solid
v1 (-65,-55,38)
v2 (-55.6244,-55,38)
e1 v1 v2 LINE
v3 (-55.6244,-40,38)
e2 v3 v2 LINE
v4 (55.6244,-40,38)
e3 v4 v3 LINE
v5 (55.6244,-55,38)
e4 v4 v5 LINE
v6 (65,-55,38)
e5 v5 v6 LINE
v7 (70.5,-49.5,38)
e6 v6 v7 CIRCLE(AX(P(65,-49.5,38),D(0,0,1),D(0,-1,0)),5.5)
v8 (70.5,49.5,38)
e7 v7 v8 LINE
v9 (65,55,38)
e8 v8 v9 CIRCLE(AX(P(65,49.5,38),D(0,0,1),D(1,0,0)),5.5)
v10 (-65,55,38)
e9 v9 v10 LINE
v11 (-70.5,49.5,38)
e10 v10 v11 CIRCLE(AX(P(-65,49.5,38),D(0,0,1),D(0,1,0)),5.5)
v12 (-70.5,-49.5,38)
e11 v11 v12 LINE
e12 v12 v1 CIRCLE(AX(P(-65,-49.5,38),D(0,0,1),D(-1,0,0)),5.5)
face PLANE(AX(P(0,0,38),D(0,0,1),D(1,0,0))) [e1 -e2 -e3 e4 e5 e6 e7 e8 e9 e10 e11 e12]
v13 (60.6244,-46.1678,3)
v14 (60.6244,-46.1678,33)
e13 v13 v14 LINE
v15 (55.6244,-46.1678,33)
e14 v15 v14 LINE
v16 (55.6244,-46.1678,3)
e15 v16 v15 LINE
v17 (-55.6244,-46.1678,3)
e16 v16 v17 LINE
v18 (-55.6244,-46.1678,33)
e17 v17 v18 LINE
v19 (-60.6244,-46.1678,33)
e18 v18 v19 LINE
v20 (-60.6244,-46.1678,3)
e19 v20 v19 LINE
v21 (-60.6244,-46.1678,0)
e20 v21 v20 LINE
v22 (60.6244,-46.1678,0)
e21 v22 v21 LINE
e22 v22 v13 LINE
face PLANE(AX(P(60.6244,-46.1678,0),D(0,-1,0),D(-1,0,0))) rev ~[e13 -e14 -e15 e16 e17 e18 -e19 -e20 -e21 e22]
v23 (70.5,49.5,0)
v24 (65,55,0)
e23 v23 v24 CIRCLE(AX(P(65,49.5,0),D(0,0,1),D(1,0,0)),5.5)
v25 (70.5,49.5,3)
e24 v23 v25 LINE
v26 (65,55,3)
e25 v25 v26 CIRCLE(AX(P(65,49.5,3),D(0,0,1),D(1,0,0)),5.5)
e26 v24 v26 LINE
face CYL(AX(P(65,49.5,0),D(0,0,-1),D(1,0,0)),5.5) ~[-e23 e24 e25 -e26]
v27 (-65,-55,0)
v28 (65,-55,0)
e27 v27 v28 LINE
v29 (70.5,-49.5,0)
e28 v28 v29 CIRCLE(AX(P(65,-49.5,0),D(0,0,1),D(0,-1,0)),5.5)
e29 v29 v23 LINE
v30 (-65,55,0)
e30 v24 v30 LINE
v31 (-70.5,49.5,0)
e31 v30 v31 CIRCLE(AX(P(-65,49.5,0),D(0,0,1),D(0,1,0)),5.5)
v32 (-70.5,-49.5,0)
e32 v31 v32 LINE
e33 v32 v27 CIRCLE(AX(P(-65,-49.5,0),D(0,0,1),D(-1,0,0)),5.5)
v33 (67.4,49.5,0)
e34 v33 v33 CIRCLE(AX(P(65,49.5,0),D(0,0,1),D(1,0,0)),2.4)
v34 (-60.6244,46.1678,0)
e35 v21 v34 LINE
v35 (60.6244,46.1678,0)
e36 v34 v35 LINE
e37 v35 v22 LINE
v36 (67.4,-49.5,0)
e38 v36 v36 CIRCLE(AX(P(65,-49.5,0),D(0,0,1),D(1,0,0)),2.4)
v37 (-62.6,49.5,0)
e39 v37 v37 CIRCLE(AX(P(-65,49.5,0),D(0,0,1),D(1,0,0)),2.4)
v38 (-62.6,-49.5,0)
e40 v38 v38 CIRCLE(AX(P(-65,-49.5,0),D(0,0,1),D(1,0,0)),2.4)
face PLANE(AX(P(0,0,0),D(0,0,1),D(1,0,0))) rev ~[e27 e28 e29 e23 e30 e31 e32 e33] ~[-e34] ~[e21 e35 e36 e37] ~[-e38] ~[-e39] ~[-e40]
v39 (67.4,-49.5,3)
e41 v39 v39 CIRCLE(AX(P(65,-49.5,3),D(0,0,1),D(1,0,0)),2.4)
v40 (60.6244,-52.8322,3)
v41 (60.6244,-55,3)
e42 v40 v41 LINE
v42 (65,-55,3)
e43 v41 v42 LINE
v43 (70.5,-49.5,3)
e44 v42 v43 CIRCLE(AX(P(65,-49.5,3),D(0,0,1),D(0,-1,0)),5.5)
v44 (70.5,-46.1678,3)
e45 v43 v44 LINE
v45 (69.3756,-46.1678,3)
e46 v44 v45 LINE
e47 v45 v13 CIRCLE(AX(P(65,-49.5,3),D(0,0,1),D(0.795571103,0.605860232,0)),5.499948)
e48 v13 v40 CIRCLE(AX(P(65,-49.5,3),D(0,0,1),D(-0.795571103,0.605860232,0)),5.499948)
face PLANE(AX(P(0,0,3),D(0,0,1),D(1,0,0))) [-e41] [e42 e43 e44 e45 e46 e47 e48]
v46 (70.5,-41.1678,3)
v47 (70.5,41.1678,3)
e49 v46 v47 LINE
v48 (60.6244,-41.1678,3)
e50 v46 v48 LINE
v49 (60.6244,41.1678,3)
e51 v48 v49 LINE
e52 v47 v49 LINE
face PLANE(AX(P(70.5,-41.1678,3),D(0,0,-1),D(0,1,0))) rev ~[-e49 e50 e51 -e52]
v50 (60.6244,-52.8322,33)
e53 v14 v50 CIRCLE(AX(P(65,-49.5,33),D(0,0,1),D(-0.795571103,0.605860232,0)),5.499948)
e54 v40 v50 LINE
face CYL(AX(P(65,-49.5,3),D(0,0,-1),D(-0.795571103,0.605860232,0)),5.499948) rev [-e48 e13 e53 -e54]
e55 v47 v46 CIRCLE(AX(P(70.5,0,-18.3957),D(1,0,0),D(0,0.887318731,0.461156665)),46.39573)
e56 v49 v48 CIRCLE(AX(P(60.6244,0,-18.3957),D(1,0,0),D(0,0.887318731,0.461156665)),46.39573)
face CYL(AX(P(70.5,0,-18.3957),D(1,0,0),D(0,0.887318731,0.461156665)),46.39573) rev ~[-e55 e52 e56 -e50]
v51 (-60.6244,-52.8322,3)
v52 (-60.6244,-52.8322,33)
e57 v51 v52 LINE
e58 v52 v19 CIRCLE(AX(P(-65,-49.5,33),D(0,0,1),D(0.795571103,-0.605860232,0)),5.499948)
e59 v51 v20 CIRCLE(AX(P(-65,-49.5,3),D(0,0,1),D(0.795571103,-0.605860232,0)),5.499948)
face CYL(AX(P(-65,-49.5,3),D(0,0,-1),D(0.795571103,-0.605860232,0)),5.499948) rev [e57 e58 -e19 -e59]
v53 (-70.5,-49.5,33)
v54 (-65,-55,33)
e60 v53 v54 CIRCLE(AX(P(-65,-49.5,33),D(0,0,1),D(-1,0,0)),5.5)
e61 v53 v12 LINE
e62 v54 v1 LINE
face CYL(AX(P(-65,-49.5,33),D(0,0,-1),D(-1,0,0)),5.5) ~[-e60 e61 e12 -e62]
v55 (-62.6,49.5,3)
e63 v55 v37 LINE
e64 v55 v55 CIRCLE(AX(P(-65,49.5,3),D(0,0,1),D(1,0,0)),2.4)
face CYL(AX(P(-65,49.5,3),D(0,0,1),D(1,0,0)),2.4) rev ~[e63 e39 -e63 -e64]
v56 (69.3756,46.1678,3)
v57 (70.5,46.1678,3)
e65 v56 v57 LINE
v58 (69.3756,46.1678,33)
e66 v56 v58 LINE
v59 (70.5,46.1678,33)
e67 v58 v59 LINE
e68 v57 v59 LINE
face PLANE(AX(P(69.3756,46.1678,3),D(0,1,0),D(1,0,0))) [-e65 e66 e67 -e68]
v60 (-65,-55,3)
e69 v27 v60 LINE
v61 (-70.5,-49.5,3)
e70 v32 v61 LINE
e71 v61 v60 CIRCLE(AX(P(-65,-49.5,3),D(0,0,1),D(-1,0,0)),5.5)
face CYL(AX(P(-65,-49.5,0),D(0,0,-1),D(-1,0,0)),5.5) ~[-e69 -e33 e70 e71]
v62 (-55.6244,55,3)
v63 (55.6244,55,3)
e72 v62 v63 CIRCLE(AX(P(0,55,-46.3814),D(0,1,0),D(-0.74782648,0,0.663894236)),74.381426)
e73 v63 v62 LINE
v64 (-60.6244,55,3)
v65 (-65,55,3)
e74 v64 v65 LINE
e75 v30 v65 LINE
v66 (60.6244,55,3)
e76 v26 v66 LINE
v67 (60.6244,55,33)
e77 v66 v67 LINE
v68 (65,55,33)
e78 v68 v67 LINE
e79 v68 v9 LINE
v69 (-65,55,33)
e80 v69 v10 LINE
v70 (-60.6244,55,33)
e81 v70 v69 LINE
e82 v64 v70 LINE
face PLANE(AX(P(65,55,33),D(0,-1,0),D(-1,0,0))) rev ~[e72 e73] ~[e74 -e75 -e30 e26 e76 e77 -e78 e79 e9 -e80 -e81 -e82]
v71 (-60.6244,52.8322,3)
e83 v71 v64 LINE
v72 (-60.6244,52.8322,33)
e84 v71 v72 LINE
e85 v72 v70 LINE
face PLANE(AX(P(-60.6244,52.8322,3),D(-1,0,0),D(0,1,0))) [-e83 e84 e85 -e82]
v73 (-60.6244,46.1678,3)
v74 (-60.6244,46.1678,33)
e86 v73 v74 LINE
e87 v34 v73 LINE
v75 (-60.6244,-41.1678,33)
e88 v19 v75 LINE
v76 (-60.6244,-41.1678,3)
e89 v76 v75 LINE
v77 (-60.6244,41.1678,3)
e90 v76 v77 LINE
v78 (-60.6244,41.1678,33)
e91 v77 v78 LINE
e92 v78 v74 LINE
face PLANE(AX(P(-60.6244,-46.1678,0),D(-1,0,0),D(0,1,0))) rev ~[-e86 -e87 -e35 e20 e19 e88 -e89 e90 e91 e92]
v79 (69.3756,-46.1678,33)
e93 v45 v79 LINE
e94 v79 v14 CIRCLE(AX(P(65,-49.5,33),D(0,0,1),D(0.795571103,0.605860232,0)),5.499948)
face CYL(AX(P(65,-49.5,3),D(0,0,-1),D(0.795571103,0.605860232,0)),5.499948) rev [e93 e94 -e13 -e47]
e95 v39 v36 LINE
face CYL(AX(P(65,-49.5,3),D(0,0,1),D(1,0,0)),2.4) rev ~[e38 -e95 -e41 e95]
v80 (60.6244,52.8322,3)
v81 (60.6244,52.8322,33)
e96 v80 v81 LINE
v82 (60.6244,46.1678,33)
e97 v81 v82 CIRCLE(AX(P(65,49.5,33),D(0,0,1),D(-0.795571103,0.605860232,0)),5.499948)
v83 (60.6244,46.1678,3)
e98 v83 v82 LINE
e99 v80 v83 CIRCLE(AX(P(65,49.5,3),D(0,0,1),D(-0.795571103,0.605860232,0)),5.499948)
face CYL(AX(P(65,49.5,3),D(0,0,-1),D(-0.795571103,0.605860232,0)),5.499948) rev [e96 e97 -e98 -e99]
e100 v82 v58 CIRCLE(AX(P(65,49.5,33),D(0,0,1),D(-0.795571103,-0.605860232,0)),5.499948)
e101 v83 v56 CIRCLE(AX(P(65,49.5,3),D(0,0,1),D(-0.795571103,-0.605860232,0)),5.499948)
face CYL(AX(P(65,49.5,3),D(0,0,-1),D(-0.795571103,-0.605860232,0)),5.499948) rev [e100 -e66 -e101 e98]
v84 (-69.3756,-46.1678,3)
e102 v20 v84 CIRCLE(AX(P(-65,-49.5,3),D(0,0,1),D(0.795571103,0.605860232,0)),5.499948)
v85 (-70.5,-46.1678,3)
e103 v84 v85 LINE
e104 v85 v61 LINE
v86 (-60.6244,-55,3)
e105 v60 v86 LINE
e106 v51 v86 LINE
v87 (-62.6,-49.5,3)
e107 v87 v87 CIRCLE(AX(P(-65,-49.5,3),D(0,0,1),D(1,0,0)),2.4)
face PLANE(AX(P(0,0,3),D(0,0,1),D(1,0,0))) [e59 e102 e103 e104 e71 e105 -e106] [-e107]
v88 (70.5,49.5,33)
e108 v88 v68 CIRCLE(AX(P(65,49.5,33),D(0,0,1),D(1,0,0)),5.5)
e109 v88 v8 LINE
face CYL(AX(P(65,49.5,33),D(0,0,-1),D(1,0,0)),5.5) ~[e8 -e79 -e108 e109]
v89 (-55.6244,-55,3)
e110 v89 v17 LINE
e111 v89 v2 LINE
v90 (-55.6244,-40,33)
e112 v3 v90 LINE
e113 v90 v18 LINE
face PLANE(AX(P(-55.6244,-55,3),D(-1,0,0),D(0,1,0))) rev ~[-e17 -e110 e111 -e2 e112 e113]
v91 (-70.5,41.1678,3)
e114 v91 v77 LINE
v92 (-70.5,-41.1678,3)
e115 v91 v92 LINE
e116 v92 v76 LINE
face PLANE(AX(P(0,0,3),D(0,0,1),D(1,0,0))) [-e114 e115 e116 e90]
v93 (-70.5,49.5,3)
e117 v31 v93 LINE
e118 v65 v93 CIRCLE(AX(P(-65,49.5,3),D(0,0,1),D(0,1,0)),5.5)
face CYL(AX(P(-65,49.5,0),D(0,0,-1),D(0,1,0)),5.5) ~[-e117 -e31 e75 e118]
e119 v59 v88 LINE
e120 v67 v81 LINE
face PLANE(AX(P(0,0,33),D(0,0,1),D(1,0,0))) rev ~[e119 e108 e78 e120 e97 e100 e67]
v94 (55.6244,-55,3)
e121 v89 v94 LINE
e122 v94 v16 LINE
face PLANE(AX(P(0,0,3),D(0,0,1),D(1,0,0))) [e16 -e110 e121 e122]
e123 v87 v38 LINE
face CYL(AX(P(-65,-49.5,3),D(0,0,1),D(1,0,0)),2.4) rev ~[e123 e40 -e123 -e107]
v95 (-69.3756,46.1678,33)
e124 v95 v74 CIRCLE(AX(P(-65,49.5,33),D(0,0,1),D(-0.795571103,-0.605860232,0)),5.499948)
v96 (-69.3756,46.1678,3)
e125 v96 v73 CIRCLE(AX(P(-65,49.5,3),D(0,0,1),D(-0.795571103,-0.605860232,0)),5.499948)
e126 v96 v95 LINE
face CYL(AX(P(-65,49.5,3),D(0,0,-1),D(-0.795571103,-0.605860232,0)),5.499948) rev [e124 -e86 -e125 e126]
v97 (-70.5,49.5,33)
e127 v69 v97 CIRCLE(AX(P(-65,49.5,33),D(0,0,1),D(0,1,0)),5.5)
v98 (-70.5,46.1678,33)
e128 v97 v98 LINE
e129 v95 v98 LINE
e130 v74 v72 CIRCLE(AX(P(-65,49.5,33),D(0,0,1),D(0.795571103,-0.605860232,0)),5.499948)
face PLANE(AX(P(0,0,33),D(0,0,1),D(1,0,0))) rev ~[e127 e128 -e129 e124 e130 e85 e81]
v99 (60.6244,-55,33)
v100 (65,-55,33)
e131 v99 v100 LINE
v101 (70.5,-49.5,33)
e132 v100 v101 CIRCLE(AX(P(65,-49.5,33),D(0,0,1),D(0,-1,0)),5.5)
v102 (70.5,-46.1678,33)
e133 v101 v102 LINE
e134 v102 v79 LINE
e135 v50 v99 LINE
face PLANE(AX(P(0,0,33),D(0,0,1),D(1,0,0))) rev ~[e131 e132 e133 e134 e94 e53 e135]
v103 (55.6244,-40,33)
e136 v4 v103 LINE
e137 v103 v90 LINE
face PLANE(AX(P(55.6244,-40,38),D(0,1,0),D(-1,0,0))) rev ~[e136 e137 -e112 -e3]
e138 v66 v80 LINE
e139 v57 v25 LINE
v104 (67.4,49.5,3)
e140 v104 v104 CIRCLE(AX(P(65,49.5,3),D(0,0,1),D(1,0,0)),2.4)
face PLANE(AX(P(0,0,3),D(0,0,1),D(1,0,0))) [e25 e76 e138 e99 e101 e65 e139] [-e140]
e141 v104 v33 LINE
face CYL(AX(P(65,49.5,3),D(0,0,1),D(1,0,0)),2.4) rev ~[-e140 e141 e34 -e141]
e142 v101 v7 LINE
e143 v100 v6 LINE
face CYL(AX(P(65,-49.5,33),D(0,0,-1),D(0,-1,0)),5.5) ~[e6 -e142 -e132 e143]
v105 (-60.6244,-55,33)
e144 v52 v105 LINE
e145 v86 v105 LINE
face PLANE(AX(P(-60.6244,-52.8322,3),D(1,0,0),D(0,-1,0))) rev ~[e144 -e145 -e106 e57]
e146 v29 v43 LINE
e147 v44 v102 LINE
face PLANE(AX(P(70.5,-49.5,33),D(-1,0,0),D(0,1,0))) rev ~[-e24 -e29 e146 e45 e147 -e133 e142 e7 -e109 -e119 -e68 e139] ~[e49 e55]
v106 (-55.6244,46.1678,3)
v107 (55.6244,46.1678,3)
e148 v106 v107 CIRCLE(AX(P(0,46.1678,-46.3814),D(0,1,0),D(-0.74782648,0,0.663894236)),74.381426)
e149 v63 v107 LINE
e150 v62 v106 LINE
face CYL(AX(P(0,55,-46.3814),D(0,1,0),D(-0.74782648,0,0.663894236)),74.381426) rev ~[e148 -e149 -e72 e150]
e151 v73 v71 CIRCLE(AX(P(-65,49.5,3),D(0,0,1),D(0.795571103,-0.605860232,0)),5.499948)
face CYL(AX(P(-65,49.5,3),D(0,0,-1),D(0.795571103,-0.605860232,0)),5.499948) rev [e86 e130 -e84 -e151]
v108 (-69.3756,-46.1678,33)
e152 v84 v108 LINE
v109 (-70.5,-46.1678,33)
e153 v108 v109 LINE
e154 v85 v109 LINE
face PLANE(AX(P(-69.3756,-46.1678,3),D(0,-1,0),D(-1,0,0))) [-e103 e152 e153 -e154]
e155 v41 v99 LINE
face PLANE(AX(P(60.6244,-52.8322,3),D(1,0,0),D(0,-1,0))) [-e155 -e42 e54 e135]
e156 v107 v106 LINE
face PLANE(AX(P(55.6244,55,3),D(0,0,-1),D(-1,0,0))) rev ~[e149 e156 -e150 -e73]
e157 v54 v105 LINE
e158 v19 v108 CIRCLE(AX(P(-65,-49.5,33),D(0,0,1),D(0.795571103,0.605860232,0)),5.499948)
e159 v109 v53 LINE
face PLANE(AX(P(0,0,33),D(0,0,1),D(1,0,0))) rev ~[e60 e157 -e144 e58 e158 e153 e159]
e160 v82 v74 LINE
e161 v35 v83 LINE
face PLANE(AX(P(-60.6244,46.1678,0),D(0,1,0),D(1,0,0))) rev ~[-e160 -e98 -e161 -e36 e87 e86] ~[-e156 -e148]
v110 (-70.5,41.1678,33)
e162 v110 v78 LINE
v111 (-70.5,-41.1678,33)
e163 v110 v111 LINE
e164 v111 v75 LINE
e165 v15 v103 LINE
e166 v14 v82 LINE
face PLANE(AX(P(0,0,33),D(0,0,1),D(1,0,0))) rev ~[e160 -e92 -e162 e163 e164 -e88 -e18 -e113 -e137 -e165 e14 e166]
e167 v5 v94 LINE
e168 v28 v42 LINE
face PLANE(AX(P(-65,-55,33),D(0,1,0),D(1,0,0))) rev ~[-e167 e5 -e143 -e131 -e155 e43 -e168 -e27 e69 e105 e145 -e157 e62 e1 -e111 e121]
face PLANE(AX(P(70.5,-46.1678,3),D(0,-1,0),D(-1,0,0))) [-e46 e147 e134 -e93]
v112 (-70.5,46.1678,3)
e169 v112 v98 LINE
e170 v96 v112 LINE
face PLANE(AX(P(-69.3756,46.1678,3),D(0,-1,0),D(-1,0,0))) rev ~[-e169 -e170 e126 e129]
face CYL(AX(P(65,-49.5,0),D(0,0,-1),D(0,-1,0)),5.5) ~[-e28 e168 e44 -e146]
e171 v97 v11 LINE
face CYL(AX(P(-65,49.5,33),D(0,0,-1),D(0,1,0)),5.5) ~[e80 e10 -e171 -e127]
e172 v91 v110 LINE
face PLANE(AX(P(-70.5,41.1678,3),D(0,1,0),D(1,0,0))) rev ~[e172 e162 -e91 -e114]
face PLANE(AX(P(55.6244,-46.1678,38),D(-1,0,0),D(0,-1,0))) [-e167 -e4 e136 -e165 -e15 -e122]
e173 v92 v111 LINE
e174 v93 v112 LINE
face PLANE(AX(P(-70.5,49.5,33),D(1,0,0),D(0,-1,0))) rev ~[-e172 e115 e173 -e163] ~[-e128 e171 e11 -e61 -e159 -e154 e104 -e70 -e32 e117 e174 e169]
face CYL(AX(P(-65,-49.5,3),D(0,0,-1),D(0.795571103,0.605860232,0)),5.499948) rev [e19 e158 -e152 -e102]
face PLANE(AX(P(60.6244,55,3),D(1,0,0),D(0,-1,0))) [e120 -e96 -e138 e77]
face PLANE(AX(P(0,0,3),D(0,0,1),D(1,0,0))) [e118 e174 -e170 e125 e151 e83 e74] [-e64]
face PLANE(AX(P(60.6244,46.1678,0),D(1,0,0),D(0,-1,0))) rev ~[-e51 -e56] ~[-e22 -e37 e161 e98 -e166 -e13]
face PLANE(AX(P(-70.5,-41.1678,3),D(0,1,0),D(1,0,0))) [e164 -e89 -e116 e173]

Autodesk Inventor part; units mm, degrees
ref_plane "YZ Plane" through (0, 0, 0) normal (1, 0, 0) x (0, 1, 0)
ref_plane "XZ Plane" through (0, 0, 0) normal (0, 1, 0) x (-1, 0, 0)
ref_plane "XY Plane" through (0, 0, 0) normal (0, 0, 1) x (1, 0, 0)
sketch "Sketch1" plane through (0, 0, 0) normal (0, 0, 1) x (1, 0, 0)
  line L0 (-65, -49.5) -> (65, -49.5) construction
  line L1 (65, -49.5) -> (65, 49.5) construction
  line L2 (65, 49.5) -> (-65, 49.5) construction
  line L3 (-65, 49.5) -> (-65, -49.5) construction
  line L4 (-65, -49.5) -> (65, 49.5) construction
  line L5 (65, -49.5) -> (-65, 49.5) construction
  arc A0 (-65, 55) -> (-70.5, 49.5) centre (-65, 49.5) ccw
  arc A1 (70.5, 49.5) -> (65, 55) centre (65, 49.5) ccw
  arc A2 (65, -55) -> (70.5, -49.5) centre (65, -49.5) ccw
  arc A3 (-70.5, -49.5) -> (-65, -55) centre (-65, -49.5) ccw
  line L6 (-70.5, 49.5) -> (-70.5, -49.5)
  line L7 (-65, -55) -> (65, -55)
  line L8 (70.5, -49.5) -> (70.5, 49.5)
  line L9 (65, 55) -> (-65, 55)
  line L10 (-60.6244, -46.1678) -> (-60.6244, 46.1678)
  line L11 (-60.6244, 46.1678) -> (60.6244, 46.1678)
  line L12 (60.6244, 46.1678) -> (60.6244, -46.1678)
  line L13 (60.6244, -46.1678) -> (-60.6244, -46.1678)
  point P0 (0, 0)
  dimension "d0" = 130
  dimension "d1" = 99
  dimension "d2" = 11
  dimension "d3" = 11
  dimension "d4" = 11
  dimension "d5" = 11
extrude "Extrusion1" add sketch "Sketch1" along normal blind 3
sketch "Sketch2" plane through (0, 0, 3) normal (0, 0, 1) x (1, 0, 0)
  arc A0 (-65, 55) -> (-70.5, 49.5) centre (-65, 49.5) ccw projected
  circle A1 centre (-65, 49.5) radius 2.4
  arc A2 (70.5, 49.5) -> (65, 55) centre (65, 49.5) ccw projected
  circle A3 centre (65, 49.5) radius 2.4
  arc A4 (65, -55) -> (70.5, -49.5) centre (65, -49.5) ccw projected
  circle A5 centre (65, -49.5) radius 2.4
  arc A6 (-70.5, -49.5) -> (-65, -55) centre (-65, -49.5) ccw projected
  circle A7 centre (-65, -49.5) radius 2.4
  point P0 (0, 0)
  dimension "d8" = 4.8
  dimension "d9" = 4.8
  dimension "d10" = 4.8
  dimension "d11" = 4.8
extrude "Extrusion2" cut sketch "Sketch2" against normal blind 8
sketch "Sketch3" plane through (0, 0, 3) normal (0, 0, 1) x (1, 0, 0)
  circle A0 centre (-65, 49.5) radius 2.4 construction
  circle A1 centre (-65, 49.5) radius 5.5 construction
  circle A2 centre (65, 49.5) radius 2.4 construction
  circle A3 centre (65, 49.5) radius 5.5 construction
  circle A4 centre (65, -49.5) radius 2.4 construction
  circle A5 centre (65, -49.5) radius 5.5 construction
  circle A6 centre (-65, -49.5) radius 2.4 construction
  circle A7 centre (-65, -49.5) radius 5.5 construction
  line L0 (-60.6244, -46.1678) -> (-60.6244, 46.1678) projected
  line L1 (-65, 55) -> (65, 55) projected
  line L2 (-60.6244, 52.8322) -> (-60.6244, 55)
  line L3 (-60.6244, 55) -> (60.6244, 55)
  line L4 (60.6244, 55) -> (60.6244, 52.8322)
  line L5 (60.6244, 46.1678) -> (-60.6244, 46.1678)
  arc A8 (-60.6244, 46.1678) -> (-60.6244, 52.8322) centre (-65, 49.5) ccw
  line L6 (60.6244, 46.1678) -> (-60.6244, 46.1678) projected
  arc A9 (60.6244, 52.8322) -> (60.6244, 46.1678) centre (65, 49.5) ccw
  line L7 (70.5, 49.5) -> (70.5, -49.5) projected
  line L8 (69.3756, 46.1678) -> (70.5, 46.1678)
  line L9 (70.5, 46.1678) -> (70.5, -46.1678)
  line L10 (70.5, -46.1678) -> (69.3756, -46.1678)
  line L11 (60.6244, -46.1678) -> (60.6244, 46.1678)
  arc A10 (69.3756, -46.1678) -> (60.6244, -46.1678) centre (65, -49.5) ccw
  arc A11 (60.6244, 46.1678) -> (69.3756, 46.1678) centre (65, 49.5) ccw
  line L12 (-70.5, -49.5) -> (-70.5, 49.5) projected
  line L13 (-69.3756, 46.1678) -> (-70.5, 46.1678)
  line L14 (-70.5, 46.1678) -> (-70.5, 41.1678)
  line L15 (-70.5, 41.1678) -> (-60.6244, 41.1678)
  line L16 (-60.6244, 41.1678) -> (-60.6244, 46.1678)
  arc A12 (-69.3756, 46.1678) -> (-60.6244, 46.1678) centre (-65, 49.5) ccw
  line L17 (-69.3756, -46.1678) -> (-70.5, -46.1678)
  line L18 (-70.5, -46.1678) -> (-70.5, -41.1678)
  line L19 (-70.5, -41.1678) -> (-60.6244, -41.1678)
  line L20 (-60.6244, -41.1678) -> (-60.6244, -46.1678)
  arc A13 (-60.6244, -46.1678) -> (-69.3756, -46.1678) centre (-65, -49.5) ccw
  line L21 (65, -55) -> (-65, -55) projected
  line L22 (-60.6244, -52.8322) -> (-60.6244, -55)
  line L23 (-60.6244, -55) -> (-55.6244, -55)
  line L24 (-55.6244, -55) -> (-55.6244, -46.1678)
  line L25 (-55.6244, -46.1678) -> (-60.6244, -46.1678)
  line L26 (-60.6244, -46.1678) -> (60.6244, -46.1678) projected
  arc A14 (-60.6244, -52.8322) -> (-60.6244, -46.1678) centre (-65, -49.5) ccw
  line L27 (60.6244, -52.8322) -> (60.6244, -55)
  line L28 (60.6244, -55) -> (55.6244, -55)
  line L29 (55.6244, -55) -> (55.6244, -46.1678)
  line L30 (55.6244, -46.1678) -> (60.6244, -46.1678)
  arc A15 (60.6244, -46.1678) -> (60.6244, -52.8322) centre (65, -49.5) ccw
  line L31 (-60.6244, 52.8322) -> (-60.6244, 55)
  arc A16 (60.6244, 46.1678) -> (69.3756, 46.1678) centre (65, 49.5) ccw
  line L32 (69.3756, 46.1678) -> (70.5, 46.1678)
  line L33 (70.5, 46.1678) -> (70.5, -46.1678)
  line L34 (70.5, -46.1678) -> (69.3756, -46.1678)
  arc A17 (69.3756, -46.1678) -> (60.6244, -46.1678) centre (65, -49.5) ccw
  line L35 (60.6244, -46.1678) -> (60.6244, 46.1678) projected
  line L36 (60.6244, -46.1678) -> (60.6244, 46.1678)
  arc A18 (60.6244, 52.8322) -> (60.6244, 46.1678) centre (65, 49.5) ccw
  line L37 (60.6244, 52.8322) -> (60.6244, 55)
  line L38 (60.6244, 55) -> (-60.6244, 55)
  line L39 (-60.6244, 55) -> (-60.6244, 52.8322)
  arc A19 (-60.6244, 46.1678) -> (-60.6244, 52.8322) centre (-65, 49.5) ccw
  line L40 (-60.6244, 46.1678) -> (60.6244, 46.1678)
  line L41 (-60.6244, 46.1678) -> (-60.6244, 41.1678)
  line L42 (-60.6244, 41.1678) -> (-70.5, 41.1678)
  line L43 (-70.5, 41.1678) -> (-70.5, 46.1678)
  line L44 (-70.5, 46.1678) -> (-69.3756, 46.1678)
  arc A20 (-69.3756, 46.1678) -> (-60.6244, 46.1678) centre (-65, 49.5) ccw
  arc A21 (-60.6244, -46.1678) -> (-69.3756, -46.1678) centre (-65, -49.5) ccw
  line L45 (-60.6244, -46.1678) -> (-60.6244, -41.1678)
  line L46 (-60.6244, -41.1678) -> (-70.5, -41.1678)
  line L47 (-70.5, -41.1678) -> (-70.5, -46.1678)
  line L48 (-70.5, -46.1678) -> (-69.3756, -46.1678)
  line L49 (-60.6244, -46.1678) -> (-55.6244, -46.1678)
  line L50 (-55.6244, -46.1678) -> (-55.6244, -55)
  line L51 (-55.6244, -55) -> (-60.6244, -55)
  line L52 (-60.6244, -55) -> (-60.6244, -52.8322)
  arc A22 (-60.6244, -52.8322) -> (-60.6244, -46.1678) centre (-65, -49.5) ccw
  point P0 (0, 0)
  dimension "d14" = 5
  dimension "d15" = 5
  dimension "d16" = 5
  dimension "d17" = 5
extrude "Extrusion3" add sketch "Sketch3" along normal blind 30 contours A13 L17 L12 L19 L0 | L25 L24 L21 L22 A14 | L15 L12 L13 A12 L0 | L26 A15 L27 L21 L29 | A8 L2 L1 L4 A9 L5 | L11 A11 L8 L7 L10 A10
sketch "Sketch4" plane through (-65, 55, 0) normal (0, 1, 0) x (1, 0, 0)
  line L0 (125.6244, -33) -> (4.3756, -33) construction
  line L1 (65, -33) -> (65, -28) construction
  line L2 (124.5, -3) -> (125.6244, -3) construction
  line L3 (125.6244, -3) -> (120.6244, -3) construction
  line L4 (-5.5, -3) -> (4.3756, -3) construction
  line L5 (120.6244, -3) -> (9.3756, -3) construction
  line L6 (4.3756, -3) -> (9.3756, -3) construction
  arc A0 (9.3756, -3) -> (120.6244, -3) centre (65, 46.3814) ccw
  line L7 (9.3756, -3) -> (9.3756, -33) projected
  line L8 (120.6244, -3) -> (9.3756, -3)
  point P0 (65, 0)
  dimension "d20" = 5
  dimension "d21" = 5
extrude "Extrusion4" cut sketch "Sketch4" against normal blind 10
sketch "Sketch5" plane through (70.5, -49.5, 0) normal (1, 0, 0) x (0, 0, -1)
  line L0 (-33, 95.6678) -> (-33, 3.3322) construction
  line L1 (-33, 49.5) -> (-28, 49.5) construction
  line L2 (0, 3.3322) -> (-3, 3.3322) construction
  line L3 (-3, 8.3322) -> (-3, 90.6678) construction
  line L4 (-3, 3.3322) -> (-3, 8.3322) construction
  line L5 (-3, 95.6678) -> (-33, 95.6678) construction
  line L6 (-3, 95.6678) -> (-3, 90.6678) construction
  line L7 (-3, 90.6678) -> (-33, 90.6678) projected
  arc A0 (-3, 90.6678) -> (-3, 8.3322) centre (18.3957, 49.5) ccw
  line L8 (-3, 8.3322) -> (-3, 90.6678)
  point P0 (0, 49.5)
  dimension "d24" = 5
extrude "Extrusion5" cut sketch "Sketch5" against normal blind 10
sketch "Sketch6" plane through (0, 0, 33) normal (0, 0, 1) x (1, 0, 0)
  line L0 (70.5, 46.1678) -> (70.5, 49.5) construction
  line L1 (70.5, 46.1678) -> (70.5, 59.6838) construction
  line L2 (-65, -55) -> (65, -55)
  line L3 (70.5, -49.5) -> (70.5, 49.5)
  line L4 (65, 55) -> (-65, 55)
  line L5 (-70.5, 49.5) -> (-70.5, -49.5)
  line L6 (-70.5, -55) -> (70.5, 55) construction
  line L7 (70.5, -55) -> (-70.5, 55) construction
  arc A0 (-65, 55) -> (-70.5, 49.5) centre (-65, 49.5) ccw projected
  arc A1 (-65, 55) -> (-70.5, 49.5) centre (-65, 49.5) ccw
  line L8 (-70.5, -49.5) -> (-70.5, 49.5) projected
  arc A2 (-70.5, -49.5) -> (-65, -55) centre (-65, -49.5) ccw projected
  arc A3 (-70.5, -49.5) -> (-65, -55) centre (-65, -49.5) ccw
  arc A4 (65, -55) -> (70.5, -49.5) centre (65, -49.5) ccw projected
  arc A5 (65, -55) -> (70.5, -49.5) centre (65, -49.5) ccw
  arc A6 (70.5, 49.5) -> (65, 55) centre (65, 49.5) ccw projected
  arc A7 (70.5, 49.5) -> (65, 55) centre (65, 49.5) ccw
  point P0 (0, 0)
extrude "Extrusion6" add sketch "Sketch6" along normal blind 5
sketch "Sketch7" plane through (0, 0, 38) normal (0, 0, 1) x (1, 0, 0)
  line L0 (55.6244, -46.1678) -> (55.6244, -55) projected
  line L1 (55.6244, -55) -> (55.6244, -40)
  line L2 (55.6244, -40) -> (-55.6244, -40)
  line L3 (-55.6244, -40) -> (-55.6244, -55)
  line L4 (-55.6244, -55) -> (55.6244, -55)
  point P0 (0, 0)
  dimension "d29" = 15
extrude "Extrusion7" cut sketch "Sketch7" against normal blind 5
properties part number "CyberDeckHDPower1"
